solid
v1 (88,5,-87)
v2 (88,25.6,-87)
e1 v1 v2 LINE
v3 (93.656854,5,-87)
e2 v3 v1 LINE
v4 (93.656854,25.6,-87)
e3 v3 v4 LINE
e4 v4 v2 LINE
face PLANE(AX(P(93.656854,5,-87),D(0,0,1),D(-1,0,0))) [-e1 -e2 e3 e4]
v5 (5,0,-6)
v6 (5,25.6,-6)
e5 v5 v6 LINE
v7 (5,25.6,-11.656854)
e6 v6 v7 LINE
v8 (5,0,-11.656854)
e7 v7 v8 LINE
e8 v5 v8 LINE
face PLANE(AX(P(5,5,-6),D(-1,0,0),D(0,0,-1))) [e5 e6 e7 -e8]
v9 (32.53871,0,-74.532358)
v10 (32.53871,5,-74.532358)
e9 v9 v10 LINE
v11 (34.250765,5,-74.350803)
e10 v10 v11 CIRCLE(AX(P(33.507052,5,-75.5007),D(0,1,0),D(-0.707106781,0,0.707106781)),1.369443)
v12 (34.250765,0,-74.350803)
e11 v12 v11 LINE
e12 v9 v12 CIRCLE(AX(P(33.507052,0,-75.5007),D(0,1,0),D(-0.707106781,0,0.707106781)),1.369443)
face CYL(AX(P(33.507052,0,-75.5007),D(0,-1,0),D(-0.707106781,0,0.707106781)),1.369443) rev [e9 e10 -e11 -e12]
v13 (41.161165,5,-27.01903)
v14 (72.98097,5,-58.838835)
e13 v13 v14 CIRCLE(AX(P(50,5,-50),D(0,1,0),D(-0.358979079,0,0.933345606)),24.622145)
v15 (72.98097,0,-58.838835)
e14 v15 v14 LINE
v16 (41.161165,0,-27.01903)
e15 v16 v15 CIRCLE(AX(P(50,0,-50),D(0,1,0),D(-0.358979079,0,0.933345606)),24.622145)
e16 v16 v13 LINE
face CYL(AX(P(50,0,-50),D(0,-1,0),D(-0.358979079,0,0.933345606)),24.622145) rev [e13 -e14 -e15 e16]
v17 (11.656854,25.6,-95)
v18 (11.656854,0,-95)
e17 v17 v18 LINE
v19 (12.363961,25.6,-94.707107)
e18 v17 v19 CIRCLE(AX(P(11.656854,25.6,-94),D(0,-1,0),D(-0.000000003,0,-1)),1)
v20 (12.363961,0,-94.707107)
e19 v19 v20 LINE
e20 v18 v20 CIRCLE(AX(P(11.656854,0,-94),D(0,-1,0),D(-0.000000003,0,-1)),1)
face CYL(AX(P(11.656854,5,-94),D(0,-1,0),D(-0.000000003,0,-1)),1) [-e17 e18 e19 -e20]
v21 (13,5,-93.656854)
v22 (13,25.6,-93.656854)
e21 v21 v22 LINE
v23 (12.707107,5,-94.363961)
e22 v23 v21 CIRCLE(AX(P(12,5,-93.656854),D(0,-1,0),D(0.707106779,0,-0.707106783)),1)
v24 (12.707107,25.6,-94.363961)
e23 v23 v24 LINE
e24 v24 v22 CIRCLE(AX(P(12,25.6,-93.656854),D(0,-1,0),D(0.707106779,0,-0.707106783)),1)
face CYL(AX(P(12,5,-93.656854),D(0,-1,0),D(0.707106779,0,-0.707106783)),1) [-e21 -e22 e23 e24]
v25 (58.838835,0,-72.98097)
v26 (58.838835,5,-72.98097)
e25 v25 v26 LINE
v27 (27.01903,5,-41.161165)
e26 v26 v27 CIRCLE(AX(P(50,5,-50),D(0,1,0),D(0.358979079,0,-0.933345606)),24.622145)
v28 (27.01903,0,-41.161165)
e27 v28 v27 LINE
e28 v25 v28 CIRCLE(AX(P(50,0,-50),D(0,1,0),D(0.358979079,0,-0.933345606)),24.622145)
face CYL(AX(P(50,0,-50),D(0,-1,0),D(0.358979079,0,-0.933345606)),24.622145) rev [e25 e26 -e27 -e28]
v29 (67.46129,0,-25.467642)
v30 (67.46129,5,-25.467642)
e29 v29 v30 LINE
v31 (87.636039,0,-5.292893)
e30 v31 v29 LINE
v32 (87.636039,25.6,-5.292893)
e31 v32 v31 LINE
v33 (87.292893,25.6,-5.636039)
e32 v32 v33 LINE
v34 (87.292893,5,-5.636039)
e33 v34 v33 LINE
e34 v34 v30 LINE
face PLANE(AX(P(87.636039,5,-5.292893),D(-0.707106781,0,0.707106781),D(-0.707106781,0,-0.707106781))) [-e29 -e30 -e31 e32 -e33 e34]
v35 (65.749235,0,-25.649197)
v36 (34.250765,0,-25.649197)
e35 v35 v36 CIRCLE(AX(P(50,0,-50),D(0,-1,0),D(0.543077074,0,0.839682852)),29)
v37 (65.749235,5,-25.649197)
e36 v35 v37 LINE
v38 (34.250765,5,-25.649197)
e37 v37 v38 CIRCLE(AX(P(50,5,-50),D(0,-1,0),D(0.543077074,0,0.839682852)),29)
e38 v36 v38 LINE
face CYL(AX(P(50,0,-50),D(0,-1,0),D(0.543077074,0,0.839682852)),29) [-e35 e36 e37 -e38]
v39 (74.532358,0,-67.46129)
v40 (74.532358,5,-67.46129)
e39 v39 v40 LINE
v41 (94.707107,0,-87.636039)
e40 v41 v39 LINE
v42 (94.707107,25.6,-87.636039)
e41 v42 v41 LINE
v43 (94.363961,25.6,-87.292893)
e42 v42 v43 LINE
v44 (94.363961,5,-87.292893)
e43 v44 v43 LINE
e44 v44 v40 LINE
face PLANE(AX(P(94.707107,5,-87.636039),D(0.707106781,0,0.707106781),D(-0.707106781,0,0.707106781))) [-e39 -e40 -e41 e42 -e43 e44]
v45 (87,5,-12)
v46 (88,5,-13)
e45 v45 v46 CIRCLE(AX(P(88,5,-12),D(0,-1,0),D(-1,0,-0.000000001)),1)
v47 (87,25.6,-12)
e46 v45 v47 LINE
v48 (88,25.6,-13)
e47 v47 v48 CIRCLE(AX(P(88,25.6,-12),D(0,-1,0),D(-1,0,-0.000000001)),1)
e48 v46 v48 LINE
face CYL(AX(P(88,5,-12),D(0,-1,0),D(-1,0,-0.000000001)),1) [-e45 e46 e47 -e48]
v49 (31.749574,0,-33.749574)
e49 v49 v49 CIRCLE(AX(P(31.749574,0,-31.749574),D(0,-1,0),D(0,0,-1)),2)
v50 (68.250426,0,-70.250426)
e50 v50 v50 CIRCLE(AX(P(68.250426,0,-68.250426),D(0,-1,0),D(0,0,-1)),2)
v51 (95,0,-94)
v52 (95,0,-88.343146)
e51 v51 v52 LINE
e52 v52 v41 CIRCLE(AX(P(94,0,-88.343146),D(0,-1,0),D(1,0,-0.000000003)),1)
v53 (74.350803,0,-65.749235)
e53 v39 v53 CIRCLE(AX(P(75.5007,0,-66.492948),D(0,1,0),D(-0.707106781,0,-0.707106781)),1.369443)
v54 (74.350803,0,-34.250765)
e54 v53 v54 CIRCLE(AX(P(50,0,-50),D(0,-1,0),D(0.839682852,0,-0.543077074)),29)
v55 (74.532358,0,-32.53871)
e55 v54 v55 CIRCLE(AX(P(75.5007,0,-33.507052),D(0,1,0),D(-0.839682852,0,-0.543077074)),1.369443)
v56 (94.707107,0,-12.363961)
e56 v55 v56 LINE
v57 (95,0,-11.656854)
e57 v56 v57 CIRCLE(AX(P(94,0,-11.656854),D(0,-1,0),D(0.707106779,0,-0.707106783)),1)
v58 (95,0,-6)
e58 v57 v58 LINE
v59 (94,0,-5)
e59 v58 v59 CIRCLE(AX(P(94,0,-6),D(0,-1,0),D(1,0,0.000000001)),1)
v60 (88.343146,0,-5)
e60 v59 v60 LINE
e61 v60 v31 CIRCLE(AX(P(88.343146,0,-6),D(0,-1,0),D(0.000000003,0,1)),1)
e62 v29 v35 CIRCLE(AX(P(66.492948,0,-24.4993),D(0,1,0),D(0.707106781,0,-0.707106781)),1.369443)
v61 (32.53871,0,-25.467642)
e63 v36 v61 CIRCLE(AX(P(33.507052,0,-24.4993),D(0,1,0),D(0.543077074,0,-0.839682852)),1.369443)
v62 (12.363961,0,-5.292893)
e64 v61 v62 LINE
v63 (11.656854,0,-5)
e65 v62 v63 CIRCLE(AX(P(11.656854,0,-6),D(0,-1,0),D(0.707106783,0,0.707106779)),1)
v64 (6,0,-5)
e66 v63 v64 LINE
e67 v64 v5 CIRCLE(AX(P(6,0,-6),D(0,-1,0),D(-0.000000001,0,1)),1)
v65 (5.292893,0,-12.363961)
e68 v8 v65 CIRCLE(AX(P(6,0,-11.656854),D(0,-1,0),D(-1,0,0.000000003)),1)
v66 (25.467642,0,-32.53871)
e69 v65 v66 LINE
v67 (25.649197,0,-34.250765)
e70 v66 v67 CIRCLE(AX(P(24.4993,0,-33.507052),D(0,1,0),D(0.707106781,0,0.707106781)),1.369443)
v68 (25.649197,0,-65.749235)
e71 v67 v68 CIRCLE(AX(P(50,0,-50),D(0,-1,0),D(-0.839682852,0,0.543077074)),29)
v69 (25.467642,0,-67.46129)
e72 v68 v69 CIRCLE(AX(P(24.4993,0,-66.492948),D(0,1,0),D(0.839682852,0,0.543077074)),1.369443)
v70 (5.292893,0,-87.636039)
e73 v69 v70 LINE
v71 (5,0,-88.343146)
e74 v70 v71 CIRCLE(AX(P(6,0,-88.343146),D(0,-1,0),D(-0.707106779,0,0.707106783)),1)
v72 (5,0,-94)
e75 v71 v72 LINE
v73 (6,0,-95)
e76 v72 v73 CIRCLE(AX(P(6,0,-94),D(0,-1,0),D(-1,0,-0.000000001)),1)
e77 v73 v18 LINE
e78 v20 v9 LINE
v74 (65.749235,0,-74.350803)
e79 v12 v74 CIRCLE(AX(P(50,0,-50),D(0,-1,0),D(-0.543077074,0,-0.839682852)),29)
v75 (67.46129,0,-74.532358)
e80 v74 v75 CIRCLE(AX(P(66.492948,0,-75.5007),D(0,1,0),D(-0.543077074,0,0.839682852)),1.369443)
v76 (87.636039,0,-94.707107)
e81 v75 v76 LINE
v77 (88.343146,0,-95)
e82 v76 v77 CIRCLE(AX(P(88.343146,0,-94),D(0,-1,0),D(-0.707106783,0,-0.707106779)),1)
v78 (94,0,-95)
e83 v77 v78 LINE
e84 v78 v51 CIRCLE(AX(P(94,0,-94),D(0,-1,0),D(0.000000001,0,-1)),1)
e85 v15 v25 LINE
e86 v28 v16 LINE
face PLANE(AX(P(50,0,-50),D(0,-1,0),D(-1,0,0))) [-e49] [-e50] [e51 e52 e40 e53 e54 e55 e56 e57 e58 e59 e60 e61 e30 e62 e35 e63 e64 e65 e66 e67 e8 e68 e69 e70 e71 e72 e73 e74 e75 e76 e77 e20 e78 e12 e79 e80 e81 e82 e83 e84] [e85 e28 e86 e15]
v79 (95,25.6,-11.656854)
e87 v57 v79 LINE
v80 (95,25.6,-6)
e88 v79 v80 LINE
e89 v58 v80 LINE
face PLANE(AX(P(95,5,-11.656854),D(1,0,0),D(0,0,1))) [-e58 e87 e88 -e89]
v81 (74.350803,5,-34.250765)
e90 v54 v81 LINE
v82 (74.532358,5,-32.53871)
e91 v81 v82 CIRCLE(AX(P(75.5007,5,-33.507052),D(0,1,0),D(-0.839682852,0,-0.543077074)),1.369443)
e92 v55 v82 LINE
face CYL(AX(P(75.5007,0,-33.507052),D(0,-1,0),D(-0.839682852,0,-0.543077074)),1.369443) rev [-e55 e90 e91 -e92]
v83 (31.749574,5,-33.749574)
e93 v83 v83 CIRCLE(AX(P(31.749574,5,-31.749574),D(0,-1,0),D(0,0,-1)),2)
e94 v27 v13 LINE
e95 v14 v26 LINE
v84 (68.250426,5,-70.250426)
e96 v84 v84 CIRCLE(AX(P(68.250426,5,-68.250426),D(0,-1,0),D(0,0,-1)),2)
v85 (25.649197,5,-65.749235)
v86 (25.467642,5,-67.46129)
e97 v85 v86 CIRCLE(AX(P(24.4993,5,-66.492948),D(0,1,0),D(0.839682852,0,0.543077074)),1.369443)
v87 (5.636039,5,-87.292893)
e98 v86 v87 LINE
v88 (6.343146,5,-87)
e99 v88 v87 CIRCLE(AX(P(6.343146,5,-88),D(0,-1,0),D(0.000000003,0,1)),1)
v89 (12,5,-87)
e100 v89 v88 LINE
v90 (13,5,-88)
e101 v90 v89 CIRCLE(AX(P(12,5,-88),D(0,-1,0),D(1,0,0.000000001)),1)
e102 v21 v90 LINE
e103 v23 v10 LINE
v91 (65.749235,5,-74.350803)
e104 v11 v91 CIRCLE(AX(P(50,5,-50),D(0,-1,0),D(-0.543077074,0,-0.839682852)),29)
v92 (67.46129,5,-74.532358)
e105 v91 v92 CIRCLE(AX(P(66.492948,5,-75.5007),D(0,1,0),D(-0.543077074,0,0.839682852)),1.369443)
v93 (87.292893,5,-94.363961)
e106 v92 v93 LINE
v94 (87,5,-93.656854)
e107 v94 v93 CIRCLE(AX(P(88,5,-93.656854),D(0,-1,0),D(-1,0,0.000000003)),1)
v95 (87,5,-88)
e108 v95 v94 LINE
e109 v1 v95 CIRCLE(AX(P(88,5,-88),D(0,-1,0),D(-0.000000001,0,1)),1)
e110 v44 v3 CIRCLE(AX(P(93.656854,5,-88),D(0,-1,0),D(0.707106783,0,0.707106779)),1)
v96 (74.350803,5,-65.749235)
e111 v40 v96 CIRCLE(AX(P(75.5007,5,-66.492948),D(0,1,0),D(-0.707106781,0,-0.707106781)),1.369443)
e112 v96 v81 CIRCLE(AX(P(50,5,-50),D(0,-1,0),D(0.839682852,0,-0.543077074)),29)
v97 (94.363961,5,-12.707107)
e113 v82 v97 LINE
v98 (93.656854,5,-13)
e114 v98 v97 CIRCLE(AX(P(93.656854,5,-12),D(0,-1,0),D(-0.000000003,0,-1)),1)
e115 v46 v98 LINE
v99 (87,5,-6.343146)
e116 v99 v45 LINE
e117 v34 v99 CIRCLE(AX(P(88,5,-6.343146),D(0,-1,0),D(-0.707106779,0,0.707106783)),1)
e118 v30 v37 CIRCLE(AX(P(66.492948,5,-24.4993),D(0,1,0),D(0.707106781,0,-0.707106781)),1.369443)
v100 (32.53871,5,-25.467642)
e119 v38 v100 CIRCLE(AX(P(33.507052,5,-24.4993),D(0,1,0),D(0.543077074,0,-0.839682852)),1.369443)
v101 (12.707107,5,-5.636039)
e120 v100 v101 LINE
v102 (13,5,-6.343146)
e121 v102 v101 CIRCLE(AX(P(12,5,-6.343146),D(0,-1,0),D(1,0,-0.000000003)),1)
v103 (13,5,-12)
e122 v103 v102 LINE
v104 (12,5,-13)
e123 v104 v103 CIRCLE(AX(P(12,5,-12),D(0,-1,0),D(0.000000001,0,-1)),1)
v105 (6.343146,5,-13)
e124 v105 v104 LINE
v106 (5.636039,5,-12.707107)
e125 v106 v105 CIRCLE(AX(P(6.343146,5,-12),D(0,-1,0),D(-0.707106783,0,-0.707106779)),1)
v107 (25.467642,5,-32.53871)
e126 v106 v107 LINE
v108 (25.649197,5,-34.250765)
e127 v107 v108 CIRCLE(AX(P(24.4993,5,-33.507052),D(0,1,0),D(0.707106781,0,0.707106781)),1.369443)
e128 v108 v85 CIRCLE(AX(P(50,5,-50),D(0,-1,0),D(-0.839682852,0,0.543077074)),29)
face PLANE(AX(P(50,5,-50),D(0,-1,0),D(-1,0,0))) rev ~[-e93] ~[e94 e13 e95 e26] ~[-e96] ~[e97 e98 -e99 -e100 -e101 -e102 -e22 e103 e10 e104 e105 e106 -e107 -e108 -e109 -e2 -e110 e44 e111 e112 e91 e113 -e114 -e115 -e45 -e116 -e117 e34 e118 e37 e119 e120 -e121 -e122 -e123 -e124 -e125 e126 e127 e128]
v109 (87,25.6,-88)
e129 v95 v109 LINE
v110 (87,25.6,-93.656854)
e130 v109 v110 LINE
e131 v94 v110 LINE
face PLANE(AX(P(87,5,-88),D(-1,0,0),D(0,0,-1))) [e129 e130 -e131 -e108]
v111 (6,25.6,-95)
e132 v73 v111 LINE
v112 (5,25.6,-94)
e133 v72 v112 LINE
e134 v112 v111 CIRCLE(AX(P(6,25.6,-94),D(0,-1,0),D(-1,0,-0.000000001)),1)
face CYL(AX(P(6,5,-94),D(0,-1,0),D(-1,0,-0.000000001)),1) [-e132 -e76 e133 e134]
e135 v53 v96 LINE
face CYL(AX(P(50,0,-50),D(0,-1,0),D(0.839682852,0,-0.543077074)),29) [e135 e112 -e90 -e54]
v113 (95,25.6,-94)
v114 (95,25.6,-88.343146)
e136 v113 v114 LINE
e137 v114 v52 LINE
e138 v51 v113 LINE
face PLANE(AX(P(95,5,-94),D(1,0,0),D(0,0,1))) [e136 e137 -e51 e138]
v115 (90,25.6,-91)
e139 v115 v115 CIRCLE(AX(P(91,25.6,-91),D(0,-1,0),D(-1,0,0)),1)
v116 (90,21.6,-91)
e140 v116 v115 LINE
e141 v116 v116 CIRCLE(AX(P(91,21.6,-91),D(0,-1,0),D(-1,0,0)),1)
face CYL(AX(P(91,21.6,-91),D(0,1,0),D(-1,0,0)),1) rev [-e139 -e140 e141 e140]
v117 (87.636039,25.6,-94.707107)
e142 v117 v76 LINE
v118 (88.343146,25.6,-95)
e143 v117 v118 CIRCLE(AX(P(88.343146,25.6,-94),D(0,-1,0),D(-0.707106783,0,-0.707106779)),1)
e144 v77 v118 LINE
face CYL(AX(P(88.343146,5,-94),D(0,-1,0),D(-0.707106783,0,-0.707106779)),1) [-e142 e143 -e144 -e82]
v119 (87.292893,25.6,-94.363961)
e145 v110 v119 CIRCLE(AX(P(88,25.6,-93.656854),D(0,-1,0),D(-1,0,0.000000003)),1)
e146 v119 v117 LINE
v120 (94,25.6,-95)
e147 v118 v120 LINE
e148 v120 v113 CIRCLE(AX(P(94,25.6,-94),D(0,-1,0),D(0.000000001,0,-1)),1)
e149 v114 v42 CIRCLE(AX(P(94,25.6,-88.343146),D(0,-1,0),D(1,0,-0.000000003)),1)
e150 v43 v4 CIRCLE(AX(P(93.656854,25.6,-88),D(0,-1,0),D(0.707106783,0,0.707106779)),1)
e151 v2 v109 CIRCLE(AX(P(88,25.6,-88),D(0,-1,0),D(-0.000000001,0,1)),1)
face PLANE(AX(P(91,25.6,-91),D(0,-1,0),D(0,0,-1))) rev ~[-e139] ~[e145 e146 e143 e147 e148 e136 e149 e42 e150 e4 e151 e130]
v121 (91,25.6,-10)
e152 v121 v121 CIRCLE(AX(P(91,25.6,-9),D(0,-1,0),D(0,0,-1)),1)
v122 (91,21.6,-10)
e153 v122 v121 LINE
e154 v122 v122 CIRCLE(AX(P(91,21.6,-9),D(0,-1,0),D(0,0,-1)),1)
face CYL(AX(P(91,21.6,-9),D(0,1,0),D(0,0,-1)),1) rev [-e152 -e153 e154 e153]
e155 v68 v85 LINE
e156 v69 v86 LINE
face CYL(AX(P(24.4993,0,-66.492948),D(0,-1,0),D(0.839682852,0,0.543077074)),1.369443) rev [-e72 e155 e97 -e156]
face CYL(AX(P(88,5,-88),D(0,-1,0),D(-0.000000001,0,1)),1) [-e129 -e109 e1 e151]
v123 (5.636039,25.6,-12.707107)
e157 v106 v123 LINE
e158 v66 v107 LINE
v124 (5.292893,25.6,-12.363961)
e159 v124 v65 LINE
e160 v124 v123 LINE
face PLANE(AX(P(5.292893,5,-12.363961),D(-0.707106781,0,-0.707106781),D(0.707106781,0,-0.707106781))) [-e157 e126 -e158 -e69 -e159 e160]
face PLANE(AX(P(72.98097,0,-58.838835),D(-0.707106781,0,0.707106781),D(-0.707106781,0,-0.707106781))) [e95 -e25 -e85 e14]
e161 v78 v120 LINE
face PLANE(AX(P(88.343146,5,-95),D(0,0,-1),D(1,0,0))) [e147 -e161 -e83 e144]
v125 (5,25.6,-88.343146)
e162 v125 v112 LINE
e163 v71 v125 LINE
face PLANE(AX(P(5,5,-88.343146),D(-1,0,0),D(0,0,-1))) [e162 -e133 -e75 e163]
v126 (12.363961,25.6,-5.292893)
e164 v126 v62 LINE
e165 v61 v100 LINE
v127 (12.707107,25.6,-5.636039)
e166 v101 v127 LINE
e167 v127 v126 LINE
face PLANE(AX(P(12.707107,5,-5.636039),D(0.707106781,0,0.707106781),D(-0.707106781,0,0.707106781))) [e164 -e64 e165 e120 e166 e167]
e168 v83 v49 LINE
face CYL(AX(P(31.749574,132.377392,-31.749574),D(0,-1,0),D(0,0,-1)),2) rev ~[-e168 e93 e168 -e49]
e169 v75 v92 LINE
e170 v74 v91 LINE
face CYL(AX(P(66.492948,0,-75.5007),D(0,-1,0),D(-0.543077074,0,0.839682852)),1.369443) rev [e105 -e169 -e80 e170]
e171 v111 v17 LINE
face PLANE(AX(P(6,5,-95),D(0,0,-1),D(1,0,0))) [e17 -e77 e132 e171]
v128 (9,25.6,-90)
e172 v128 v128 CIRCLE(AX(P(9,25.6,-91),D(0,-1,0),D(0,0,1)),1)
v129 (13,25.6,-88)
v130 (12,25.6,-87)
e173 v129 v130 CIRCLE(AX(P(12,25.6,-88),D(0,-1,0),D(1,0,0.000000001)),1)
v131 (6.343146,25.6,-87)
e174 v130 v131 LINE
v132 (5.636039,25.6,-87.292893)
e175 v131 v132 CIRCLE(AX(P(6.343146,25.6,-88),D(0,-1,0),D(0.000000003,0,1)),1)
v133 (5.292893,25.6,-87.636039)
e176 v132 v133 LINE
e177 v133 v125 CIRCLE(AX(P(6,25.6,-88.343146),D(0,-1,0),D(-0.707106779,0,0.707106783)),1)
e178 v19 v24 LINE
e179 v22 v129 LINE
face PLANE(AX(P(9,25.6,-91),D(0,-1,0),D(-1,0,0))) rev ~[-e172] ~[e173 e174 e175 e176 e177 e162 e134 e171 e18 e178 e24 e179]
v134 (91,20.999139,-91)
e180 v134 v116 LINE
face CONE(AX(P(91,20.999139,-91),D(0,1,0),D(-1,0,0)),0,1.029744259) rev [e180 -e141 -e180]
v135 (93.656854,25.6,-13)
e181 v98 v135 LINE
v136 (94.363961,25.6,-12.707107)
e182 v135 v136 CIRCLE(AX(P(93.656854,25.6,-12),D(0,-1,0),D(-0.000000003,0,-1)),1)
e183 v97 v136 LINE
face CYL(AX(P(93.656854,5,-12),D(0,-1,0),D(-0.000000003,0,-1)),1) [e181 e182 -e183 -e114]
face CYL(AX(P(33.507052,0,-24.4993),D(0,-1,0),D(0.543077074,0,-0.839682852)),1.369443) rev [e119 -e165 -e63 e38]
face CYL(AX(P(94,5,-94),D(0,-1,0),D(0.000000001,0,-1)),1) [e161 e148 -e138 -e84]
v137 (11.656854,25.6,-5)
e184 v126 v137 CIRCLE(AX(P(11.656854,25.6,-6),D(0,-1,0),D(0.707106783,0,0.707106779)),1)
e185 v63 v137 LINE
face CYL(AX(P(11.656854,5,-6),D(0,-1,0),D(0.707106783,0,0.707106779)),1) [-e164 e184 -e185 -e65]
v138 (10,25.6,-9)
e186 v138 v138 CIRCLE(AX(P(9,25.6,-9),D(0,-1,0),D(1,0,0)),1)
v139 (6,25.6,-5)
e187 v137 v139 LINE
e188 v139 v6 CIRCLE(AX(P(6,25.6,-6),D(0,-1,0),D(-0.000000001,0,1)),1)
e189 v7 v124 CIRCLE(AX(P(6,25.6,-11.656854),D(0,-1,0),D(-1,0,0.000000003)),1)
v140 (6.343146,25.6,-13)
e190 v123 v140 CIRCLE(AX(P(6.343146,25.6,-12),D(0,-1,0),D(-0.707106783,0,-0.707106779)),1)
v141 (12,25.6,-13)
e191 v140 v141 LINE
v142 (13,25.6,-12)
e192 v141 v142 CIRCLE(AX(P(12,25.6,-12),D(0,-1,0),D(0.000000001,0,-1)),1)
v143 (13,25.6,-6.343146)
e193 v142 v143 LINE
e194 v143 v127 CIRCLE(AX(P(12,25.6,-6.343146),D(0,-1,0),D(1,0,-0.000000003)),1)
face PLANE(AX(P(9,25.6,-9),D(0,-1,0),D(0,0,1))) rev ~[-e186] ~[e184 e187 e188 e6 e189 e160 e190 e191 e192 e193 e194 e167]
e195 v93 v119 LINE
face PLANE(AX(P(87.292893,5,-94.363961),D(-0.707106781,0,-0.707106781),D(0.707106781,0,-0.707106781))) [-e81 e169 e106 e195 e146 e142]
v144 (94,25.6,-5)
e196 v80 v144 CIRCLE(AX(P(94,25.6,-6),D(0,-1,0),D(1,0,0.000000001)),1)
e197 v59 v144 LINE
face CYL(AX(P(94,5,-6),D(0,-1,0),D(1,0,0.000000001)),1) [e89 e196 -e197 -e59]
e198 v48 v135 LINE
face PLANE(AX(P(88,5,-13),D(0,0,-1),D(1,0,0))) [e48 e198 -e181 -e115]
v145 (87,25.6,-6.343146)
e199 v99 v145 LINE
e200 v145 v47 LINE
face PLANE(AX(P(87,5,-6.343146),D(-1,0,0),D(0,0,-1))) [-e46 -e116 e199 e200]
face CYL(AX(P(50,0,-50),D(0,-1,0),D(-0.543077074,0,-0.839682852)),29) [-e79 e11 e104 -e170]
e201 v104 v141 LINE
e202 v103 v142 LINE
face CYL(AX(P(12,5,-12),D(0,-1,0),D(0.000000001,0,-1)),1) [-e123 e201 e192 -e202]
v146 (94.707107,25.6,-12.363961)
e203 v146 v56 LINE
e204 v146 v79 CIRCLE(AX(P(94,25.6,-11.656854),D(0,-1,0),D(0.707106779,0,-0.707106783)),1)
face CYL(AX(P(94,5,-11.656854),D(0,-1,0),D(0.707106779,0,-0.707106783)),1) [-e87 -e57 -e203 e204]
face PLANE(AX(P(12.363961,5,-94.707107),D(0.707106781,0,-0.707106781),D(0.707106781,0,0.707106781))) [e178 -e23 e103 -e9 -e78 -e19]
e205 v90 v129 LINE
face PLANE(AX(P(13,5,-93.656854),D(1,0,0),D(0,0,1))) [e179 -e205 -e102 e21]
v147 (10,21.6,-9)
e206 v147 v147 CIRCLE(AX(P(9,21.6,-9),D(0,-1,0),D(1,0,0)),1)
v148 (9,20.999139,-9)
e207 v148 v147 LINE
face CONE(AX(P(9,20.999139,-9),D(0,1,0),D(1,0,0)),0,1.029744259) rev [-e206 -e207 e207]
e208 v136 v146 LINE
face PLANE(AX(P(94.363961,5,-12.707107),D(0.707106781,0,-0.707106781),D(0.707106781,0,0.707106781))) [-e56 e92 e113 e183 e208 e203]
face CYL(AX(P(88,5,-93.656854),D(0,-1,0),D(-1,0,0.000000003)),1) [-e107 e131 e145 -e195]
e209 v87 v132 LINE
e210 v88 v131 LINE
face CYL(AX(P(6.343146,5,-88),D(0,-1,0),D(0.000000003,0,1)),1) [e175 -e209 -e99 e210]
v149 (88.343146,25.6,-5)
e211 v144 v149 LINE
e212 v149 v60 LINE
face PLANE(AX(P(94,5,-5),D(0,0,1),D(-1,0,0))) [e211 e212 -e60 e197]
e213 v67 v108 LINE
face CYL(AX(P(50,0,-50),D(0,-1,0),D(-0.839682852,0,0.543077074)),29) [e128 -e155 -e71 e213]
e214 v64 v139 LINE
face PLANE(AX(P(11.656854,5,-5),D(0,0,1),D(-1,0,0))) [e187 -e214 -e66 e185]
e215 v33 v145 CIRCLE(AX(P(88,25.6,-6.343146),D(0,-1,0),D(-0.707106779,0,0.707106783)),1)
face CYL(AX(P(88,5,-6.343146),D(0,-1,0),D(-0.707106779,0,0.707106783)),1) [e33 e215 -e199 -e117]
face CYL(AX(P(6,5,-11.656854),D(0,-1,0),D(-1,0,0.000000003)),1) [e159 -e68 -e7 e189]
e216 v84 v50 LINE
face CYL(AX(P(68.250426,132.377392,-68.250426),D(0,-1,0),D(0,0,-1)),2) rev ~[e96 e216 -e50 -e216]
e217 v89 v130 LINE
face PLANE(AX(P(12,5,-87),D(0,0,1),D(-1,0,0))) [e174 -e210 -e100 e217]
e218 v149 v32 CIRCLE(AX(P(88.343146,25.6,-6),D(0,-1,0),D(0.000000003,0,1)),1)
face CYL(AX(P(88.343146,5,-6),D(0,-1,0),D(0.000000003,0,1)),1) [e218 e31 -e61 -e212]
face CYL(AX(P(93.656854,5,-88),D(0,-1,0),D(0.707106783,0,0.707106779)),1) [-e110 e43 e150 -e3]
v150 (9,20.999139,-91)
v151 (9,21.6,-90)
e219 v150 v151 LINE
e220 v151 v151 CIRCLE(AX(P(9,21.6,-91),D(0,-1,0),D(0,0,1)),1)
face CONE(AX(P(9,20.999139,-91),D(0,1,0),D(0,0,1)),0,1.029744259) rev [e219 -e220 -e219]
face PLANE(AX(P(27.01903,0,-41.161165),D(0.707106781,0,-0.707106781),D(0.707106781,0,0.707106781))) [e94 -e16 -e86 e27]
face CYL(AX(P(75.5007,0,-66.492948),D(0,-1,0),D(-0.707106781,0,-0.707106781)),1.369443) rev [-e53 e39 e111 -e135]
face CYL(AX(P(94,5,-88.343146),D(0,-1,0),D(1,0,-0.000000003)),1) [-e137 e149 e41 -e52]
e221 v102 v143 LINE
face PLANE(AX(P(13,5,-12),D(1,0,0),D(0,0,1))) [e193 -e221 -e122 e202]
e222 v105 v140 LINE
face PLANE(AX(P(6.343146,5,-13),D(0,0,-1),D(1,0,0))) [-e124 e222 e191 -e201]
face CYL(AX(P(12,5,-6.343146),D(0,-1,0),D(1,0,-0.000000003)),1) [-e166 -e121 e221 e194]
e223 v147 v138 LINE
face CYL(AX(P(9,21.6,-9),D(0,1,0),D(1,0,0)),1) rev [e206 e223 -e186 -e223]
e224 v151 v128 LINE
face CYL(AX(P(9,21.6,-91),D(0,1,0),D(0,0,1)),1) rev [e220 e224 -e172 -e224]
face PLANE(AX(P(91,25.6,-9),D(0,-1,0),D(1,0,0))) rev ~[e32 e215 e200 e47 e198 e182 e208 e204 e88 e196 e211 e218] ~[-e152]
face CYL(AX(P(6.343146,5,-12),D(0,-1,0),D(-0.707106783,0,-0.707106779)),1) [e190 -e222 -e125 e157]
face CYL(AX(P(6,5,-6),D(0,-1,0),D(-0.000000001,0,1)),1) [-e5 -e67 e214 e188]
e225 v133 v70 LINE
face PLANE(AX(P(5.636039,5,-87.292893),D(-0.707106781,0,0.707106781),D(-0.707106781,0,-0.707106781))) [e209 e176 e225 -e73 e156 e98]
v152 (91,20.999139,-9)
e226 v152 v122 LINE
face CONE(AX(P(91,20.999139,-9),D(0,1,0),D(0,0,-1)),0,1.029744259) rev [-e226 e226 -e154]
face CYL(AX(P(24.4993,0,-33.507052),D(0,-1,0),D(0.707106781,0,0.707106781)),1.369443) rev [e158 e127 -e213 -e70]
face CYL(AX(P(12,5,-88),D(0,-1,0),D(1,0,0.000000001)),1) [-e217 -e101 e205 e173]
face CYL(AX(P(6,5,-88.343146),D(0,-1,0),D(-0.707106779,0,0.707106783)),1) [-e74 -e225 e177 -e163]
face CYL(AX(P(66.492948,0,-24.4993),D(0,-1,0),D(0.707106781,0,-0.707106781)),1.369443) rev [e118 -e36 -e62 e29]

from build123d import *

# Parameters (mm, degrees)
BOSS_EXTRUDE1_DEPTH         = 5
TAP_DRILL_FOR_M4X0_7_TAP1_D = 4
BOSS_EXTRUDE2_DEPTH         = 20.6
CIRPATTERN1_COUNT           = 4


with BuildPart() as part:
    # Sketch1 → Boss-Extrude1 (new body)
    with BuildSketch(Plane(origin=(0, 0, 0), x_dir=(1, 0, 0), z_dir=(0, 1, 0))):
        with BuildLine():
            Line((6, 95), (11.656854249, 95))
            ThreePointArc((11.656854249, 95), (12.039537682, 94.923879533), (12.363961031, 94.707106781))
            Line((12.363961031, 94.707106781), (32.538709783, 74.532358029))
            ThreePointArc((32.538709783, 74.532358029), (33.362638794, 74.138893326), (34.250764856, 74.350802705))
            ThreePointArc((34.250764856, 74.350802705), (50, 79), (65.749235144, 74.350802705))
            ThreePointArc((65.749235144, 74.350802705), (66.637361206, 74.138893326), (67.461290217, 74.532358029))
            Line((67.461290217, 74.532358029), (87.636038969, 94.707106781))
            ThreePointArc((87.636038969, 94.707106781), (87.960462318, 94.923879533), (88.343145751, 95))
            Line((88.343145751, 95), (94, 95))
            ThreePointArc((94, 95), (94.707106781, 94.707106781), (95, 94))
            Line((95, 94), (95, 88.343145751))
            ThreePointArc((95, 88.343145751), (94.923879533, 87.960462318), (94.707106781, 87.636038969))
            Line((94.707106781, 87.636038969), (74.532358029, 67.461290217))
            ThreePointArc((74.532358029, 67.461290217), (74.138893326, 66.637361206), (74.350802705, 65.749235144))
            ThreePointArc((74.350802705, 65.749235144), (79, 50), (74.350802705, 34.250764856))
            ThreePointArc((74.350802705, 34.250764856), (74.138893326, 33.362638794), (74.532358029, 32.538709783))
            Line((74.532358029, 32.538709783), (94.707106781, 12.363961031))
            ThreePointArc((94.707106781, 12.363961031), (94.923879533, 12.039537682), (95, 11.656854249))
            Line((95, 11.656854249), (95, 6))
            ThreePointArc((95, 6), (94.707106781, 5.292893219), (94, 5))
            Line((94, 5), (88.343145751, 5))
            ThreePointArc((88.343145751, 5), (87.960462318, 5.076120467), (87.636038969, 5.292893219))
            Line((87.636038969, 5.292893219), (67.461290217, 25.467641971))
            ThreePointArc((67.461290217, 25.467641971), (66.637361206, 25.861106674), (65.749235144, 25.649197295))
            ThreePointArc((65.749235144, 25.649197295), (50, 21), (34.250764856, 25.649197295))
            ThreePointArc((34.250764856, 25.649197295), (33.362638794, 25.861106674), (32.538709783, 25.467641971))
            Line((32.538709783, 25.467641971), (12.363961031, 5.292893219))
            ThreePointArc((12.363961031, 5.292893219), (12.039537682, 5.076120467), (11.656854249, 5))
            Line((11.656854249, 5), (6, 5))
            ThreePointArc((6, 5), (5.292893219, 5.292893219), (5, 6))
            Line((5, 6), (5, 11.656854249))
            ThreePointArc((5, 11.656854249), (5.076120467, 12.039537682), (5.292893219, 12.363961031))
            Line((5.292893219, 12.363961031), (25.467641971, 32.538709783))
            ThreePointArc((25.467641971, 32.538709783), (25.861106674, 33.362638794), (25.649197295, 34.250764856))
            ThreePointArc((25.649197295, 34.250764856), (21, 50), (25.649197295, 65.749235144))
            ThreePointArc((25.649197295, 65.749235144), (25.861106674, 66.637361206), (25.467641971, 67.461290217))
            Line((25.467641971, 67.461290217), (5.292893219, 87.636038969))
            ThreePointArc((5.292893219, 87.636038969), (5.076120467, 87.960462318), (5, 88.343145751))
            Line((5, 88.343145751), (5, 94))
            ThreePointArc((5, 94), (5.292893219, 94.707106781), (6, 95))
        make_face()
        with BuildLine():
            Line((72.980970389, 58.838834765), (58.838834765, 72.980970389))
            ThreePointArc((58.838834765, 72.980970389), (32.589514654, 67.410485346), (27.019029611, 41.161165235))
            Line((27.019029611, 41.161165235), (41.161165235, 27.019029611))
            ThreePointArc((41.161165235, 27.019029611), (67.410485346, 32.589514654), (72.980970389, 58.838834765))
        make_face(mode=Mode.SUBTRACT)
    extrude(amount=BOSS_EXTRUDE1_DEPTH)

    # Tap Drill for M4x0.7 Tap1 (through all)
    with Locations(Plane(origin=(31.749573978, 5, -31.749573978), x_dir=(0, 0, 1), z_dir=(0, 1, 0))):
        with Locations((0, 0), (-36.500852044, 36.500852044)):
            Hole(TAP_DRILL_FOR_M4X0_7_TAP1_D / 2)

    # Sketch6 → Boss-Extrude2 (add)
    with BuildSketch(Plane(origin=(0, 5, 0), x_dir=(1, 0, 0), z_dir=(0, 1, 0))):
        with BuildLine():
            Line((6, 95), (11.656854249, 95))
            ThreePointArc((11.656854249, 95), (12.039537682, 94.923879533), (12.363961031, 94.707106781))
            Line((12.363961031, 94.707106781), (12.707106781, 94.363961031))
            ThreePointArc((12.707106781, 94.363961031), (12.923879533, 94.039537682), (13, 93.656854249))
            Line((13, 93.656854249), (13, 88))
            ThreePointArc((13, 88), (12.707106781, 87.292893219), (12, 87))
            Line((12, 87), (6.343145751, 87))
            ThreePointArc((6.343145751, 87), (5.960462318, 87.076120467), (5.636038969, 87.292893219))
            Line((5.636038969, 87.292893219), (5.292893219, 87.636038969))
            ThreePointArc((5.292893219, 87.636038969), (5.076120467, 87.960462318), (5, 88.343145751))
            Line((5, 88.343145751), (5, 94))
            ThreePointArc((5, 94), (5.292893219, 94.707106781), (6, 95))
        make_face()
    boss_extrude2 = extrude(amount=BOSS_EXTRUDE2_DEPTH)

    # Sketch9 → Tap Drill for M2x0.4 Tap1 (revolve, cut)
    with BuildSketch(Plane(origin=(9, 25.6, -91), x_dir=(0, 0, 1), z_dir=(1, 0, 0))):
        Polygon((0, 0), (0, 4.600860619), (1, 4), (1, 0), align=None)
    tap_drill_for_m2x0_4_tap1 = revolve(axis=Axis((9, 31.95, -91), (0, -1, 0)), mode=Mode.SUBTRACT)

    # CirPattern1: Boss-Extrude2, Tap Drill for M2x0.4 Tap1 ×4 about axis
    cirpattern1_axis = Axis((50, 5, -50), (0, -1, 0))
    add([boss_extrude2.rotate(cirpattern1_axis, i * 360 / CIRPATTERN1_COUNT) for i in range(1, CIRPATTERN1_COUNT)])
    add([tap_drill_for_m2x0_4_tap1.rotate(cirpattern1_axis, i * 360 / CIRPATTERN1_COUNT) for i in range(1, CIRPATTERN1_COUNT)], mode=Mode.SUBTRACT)


solid = part.part
